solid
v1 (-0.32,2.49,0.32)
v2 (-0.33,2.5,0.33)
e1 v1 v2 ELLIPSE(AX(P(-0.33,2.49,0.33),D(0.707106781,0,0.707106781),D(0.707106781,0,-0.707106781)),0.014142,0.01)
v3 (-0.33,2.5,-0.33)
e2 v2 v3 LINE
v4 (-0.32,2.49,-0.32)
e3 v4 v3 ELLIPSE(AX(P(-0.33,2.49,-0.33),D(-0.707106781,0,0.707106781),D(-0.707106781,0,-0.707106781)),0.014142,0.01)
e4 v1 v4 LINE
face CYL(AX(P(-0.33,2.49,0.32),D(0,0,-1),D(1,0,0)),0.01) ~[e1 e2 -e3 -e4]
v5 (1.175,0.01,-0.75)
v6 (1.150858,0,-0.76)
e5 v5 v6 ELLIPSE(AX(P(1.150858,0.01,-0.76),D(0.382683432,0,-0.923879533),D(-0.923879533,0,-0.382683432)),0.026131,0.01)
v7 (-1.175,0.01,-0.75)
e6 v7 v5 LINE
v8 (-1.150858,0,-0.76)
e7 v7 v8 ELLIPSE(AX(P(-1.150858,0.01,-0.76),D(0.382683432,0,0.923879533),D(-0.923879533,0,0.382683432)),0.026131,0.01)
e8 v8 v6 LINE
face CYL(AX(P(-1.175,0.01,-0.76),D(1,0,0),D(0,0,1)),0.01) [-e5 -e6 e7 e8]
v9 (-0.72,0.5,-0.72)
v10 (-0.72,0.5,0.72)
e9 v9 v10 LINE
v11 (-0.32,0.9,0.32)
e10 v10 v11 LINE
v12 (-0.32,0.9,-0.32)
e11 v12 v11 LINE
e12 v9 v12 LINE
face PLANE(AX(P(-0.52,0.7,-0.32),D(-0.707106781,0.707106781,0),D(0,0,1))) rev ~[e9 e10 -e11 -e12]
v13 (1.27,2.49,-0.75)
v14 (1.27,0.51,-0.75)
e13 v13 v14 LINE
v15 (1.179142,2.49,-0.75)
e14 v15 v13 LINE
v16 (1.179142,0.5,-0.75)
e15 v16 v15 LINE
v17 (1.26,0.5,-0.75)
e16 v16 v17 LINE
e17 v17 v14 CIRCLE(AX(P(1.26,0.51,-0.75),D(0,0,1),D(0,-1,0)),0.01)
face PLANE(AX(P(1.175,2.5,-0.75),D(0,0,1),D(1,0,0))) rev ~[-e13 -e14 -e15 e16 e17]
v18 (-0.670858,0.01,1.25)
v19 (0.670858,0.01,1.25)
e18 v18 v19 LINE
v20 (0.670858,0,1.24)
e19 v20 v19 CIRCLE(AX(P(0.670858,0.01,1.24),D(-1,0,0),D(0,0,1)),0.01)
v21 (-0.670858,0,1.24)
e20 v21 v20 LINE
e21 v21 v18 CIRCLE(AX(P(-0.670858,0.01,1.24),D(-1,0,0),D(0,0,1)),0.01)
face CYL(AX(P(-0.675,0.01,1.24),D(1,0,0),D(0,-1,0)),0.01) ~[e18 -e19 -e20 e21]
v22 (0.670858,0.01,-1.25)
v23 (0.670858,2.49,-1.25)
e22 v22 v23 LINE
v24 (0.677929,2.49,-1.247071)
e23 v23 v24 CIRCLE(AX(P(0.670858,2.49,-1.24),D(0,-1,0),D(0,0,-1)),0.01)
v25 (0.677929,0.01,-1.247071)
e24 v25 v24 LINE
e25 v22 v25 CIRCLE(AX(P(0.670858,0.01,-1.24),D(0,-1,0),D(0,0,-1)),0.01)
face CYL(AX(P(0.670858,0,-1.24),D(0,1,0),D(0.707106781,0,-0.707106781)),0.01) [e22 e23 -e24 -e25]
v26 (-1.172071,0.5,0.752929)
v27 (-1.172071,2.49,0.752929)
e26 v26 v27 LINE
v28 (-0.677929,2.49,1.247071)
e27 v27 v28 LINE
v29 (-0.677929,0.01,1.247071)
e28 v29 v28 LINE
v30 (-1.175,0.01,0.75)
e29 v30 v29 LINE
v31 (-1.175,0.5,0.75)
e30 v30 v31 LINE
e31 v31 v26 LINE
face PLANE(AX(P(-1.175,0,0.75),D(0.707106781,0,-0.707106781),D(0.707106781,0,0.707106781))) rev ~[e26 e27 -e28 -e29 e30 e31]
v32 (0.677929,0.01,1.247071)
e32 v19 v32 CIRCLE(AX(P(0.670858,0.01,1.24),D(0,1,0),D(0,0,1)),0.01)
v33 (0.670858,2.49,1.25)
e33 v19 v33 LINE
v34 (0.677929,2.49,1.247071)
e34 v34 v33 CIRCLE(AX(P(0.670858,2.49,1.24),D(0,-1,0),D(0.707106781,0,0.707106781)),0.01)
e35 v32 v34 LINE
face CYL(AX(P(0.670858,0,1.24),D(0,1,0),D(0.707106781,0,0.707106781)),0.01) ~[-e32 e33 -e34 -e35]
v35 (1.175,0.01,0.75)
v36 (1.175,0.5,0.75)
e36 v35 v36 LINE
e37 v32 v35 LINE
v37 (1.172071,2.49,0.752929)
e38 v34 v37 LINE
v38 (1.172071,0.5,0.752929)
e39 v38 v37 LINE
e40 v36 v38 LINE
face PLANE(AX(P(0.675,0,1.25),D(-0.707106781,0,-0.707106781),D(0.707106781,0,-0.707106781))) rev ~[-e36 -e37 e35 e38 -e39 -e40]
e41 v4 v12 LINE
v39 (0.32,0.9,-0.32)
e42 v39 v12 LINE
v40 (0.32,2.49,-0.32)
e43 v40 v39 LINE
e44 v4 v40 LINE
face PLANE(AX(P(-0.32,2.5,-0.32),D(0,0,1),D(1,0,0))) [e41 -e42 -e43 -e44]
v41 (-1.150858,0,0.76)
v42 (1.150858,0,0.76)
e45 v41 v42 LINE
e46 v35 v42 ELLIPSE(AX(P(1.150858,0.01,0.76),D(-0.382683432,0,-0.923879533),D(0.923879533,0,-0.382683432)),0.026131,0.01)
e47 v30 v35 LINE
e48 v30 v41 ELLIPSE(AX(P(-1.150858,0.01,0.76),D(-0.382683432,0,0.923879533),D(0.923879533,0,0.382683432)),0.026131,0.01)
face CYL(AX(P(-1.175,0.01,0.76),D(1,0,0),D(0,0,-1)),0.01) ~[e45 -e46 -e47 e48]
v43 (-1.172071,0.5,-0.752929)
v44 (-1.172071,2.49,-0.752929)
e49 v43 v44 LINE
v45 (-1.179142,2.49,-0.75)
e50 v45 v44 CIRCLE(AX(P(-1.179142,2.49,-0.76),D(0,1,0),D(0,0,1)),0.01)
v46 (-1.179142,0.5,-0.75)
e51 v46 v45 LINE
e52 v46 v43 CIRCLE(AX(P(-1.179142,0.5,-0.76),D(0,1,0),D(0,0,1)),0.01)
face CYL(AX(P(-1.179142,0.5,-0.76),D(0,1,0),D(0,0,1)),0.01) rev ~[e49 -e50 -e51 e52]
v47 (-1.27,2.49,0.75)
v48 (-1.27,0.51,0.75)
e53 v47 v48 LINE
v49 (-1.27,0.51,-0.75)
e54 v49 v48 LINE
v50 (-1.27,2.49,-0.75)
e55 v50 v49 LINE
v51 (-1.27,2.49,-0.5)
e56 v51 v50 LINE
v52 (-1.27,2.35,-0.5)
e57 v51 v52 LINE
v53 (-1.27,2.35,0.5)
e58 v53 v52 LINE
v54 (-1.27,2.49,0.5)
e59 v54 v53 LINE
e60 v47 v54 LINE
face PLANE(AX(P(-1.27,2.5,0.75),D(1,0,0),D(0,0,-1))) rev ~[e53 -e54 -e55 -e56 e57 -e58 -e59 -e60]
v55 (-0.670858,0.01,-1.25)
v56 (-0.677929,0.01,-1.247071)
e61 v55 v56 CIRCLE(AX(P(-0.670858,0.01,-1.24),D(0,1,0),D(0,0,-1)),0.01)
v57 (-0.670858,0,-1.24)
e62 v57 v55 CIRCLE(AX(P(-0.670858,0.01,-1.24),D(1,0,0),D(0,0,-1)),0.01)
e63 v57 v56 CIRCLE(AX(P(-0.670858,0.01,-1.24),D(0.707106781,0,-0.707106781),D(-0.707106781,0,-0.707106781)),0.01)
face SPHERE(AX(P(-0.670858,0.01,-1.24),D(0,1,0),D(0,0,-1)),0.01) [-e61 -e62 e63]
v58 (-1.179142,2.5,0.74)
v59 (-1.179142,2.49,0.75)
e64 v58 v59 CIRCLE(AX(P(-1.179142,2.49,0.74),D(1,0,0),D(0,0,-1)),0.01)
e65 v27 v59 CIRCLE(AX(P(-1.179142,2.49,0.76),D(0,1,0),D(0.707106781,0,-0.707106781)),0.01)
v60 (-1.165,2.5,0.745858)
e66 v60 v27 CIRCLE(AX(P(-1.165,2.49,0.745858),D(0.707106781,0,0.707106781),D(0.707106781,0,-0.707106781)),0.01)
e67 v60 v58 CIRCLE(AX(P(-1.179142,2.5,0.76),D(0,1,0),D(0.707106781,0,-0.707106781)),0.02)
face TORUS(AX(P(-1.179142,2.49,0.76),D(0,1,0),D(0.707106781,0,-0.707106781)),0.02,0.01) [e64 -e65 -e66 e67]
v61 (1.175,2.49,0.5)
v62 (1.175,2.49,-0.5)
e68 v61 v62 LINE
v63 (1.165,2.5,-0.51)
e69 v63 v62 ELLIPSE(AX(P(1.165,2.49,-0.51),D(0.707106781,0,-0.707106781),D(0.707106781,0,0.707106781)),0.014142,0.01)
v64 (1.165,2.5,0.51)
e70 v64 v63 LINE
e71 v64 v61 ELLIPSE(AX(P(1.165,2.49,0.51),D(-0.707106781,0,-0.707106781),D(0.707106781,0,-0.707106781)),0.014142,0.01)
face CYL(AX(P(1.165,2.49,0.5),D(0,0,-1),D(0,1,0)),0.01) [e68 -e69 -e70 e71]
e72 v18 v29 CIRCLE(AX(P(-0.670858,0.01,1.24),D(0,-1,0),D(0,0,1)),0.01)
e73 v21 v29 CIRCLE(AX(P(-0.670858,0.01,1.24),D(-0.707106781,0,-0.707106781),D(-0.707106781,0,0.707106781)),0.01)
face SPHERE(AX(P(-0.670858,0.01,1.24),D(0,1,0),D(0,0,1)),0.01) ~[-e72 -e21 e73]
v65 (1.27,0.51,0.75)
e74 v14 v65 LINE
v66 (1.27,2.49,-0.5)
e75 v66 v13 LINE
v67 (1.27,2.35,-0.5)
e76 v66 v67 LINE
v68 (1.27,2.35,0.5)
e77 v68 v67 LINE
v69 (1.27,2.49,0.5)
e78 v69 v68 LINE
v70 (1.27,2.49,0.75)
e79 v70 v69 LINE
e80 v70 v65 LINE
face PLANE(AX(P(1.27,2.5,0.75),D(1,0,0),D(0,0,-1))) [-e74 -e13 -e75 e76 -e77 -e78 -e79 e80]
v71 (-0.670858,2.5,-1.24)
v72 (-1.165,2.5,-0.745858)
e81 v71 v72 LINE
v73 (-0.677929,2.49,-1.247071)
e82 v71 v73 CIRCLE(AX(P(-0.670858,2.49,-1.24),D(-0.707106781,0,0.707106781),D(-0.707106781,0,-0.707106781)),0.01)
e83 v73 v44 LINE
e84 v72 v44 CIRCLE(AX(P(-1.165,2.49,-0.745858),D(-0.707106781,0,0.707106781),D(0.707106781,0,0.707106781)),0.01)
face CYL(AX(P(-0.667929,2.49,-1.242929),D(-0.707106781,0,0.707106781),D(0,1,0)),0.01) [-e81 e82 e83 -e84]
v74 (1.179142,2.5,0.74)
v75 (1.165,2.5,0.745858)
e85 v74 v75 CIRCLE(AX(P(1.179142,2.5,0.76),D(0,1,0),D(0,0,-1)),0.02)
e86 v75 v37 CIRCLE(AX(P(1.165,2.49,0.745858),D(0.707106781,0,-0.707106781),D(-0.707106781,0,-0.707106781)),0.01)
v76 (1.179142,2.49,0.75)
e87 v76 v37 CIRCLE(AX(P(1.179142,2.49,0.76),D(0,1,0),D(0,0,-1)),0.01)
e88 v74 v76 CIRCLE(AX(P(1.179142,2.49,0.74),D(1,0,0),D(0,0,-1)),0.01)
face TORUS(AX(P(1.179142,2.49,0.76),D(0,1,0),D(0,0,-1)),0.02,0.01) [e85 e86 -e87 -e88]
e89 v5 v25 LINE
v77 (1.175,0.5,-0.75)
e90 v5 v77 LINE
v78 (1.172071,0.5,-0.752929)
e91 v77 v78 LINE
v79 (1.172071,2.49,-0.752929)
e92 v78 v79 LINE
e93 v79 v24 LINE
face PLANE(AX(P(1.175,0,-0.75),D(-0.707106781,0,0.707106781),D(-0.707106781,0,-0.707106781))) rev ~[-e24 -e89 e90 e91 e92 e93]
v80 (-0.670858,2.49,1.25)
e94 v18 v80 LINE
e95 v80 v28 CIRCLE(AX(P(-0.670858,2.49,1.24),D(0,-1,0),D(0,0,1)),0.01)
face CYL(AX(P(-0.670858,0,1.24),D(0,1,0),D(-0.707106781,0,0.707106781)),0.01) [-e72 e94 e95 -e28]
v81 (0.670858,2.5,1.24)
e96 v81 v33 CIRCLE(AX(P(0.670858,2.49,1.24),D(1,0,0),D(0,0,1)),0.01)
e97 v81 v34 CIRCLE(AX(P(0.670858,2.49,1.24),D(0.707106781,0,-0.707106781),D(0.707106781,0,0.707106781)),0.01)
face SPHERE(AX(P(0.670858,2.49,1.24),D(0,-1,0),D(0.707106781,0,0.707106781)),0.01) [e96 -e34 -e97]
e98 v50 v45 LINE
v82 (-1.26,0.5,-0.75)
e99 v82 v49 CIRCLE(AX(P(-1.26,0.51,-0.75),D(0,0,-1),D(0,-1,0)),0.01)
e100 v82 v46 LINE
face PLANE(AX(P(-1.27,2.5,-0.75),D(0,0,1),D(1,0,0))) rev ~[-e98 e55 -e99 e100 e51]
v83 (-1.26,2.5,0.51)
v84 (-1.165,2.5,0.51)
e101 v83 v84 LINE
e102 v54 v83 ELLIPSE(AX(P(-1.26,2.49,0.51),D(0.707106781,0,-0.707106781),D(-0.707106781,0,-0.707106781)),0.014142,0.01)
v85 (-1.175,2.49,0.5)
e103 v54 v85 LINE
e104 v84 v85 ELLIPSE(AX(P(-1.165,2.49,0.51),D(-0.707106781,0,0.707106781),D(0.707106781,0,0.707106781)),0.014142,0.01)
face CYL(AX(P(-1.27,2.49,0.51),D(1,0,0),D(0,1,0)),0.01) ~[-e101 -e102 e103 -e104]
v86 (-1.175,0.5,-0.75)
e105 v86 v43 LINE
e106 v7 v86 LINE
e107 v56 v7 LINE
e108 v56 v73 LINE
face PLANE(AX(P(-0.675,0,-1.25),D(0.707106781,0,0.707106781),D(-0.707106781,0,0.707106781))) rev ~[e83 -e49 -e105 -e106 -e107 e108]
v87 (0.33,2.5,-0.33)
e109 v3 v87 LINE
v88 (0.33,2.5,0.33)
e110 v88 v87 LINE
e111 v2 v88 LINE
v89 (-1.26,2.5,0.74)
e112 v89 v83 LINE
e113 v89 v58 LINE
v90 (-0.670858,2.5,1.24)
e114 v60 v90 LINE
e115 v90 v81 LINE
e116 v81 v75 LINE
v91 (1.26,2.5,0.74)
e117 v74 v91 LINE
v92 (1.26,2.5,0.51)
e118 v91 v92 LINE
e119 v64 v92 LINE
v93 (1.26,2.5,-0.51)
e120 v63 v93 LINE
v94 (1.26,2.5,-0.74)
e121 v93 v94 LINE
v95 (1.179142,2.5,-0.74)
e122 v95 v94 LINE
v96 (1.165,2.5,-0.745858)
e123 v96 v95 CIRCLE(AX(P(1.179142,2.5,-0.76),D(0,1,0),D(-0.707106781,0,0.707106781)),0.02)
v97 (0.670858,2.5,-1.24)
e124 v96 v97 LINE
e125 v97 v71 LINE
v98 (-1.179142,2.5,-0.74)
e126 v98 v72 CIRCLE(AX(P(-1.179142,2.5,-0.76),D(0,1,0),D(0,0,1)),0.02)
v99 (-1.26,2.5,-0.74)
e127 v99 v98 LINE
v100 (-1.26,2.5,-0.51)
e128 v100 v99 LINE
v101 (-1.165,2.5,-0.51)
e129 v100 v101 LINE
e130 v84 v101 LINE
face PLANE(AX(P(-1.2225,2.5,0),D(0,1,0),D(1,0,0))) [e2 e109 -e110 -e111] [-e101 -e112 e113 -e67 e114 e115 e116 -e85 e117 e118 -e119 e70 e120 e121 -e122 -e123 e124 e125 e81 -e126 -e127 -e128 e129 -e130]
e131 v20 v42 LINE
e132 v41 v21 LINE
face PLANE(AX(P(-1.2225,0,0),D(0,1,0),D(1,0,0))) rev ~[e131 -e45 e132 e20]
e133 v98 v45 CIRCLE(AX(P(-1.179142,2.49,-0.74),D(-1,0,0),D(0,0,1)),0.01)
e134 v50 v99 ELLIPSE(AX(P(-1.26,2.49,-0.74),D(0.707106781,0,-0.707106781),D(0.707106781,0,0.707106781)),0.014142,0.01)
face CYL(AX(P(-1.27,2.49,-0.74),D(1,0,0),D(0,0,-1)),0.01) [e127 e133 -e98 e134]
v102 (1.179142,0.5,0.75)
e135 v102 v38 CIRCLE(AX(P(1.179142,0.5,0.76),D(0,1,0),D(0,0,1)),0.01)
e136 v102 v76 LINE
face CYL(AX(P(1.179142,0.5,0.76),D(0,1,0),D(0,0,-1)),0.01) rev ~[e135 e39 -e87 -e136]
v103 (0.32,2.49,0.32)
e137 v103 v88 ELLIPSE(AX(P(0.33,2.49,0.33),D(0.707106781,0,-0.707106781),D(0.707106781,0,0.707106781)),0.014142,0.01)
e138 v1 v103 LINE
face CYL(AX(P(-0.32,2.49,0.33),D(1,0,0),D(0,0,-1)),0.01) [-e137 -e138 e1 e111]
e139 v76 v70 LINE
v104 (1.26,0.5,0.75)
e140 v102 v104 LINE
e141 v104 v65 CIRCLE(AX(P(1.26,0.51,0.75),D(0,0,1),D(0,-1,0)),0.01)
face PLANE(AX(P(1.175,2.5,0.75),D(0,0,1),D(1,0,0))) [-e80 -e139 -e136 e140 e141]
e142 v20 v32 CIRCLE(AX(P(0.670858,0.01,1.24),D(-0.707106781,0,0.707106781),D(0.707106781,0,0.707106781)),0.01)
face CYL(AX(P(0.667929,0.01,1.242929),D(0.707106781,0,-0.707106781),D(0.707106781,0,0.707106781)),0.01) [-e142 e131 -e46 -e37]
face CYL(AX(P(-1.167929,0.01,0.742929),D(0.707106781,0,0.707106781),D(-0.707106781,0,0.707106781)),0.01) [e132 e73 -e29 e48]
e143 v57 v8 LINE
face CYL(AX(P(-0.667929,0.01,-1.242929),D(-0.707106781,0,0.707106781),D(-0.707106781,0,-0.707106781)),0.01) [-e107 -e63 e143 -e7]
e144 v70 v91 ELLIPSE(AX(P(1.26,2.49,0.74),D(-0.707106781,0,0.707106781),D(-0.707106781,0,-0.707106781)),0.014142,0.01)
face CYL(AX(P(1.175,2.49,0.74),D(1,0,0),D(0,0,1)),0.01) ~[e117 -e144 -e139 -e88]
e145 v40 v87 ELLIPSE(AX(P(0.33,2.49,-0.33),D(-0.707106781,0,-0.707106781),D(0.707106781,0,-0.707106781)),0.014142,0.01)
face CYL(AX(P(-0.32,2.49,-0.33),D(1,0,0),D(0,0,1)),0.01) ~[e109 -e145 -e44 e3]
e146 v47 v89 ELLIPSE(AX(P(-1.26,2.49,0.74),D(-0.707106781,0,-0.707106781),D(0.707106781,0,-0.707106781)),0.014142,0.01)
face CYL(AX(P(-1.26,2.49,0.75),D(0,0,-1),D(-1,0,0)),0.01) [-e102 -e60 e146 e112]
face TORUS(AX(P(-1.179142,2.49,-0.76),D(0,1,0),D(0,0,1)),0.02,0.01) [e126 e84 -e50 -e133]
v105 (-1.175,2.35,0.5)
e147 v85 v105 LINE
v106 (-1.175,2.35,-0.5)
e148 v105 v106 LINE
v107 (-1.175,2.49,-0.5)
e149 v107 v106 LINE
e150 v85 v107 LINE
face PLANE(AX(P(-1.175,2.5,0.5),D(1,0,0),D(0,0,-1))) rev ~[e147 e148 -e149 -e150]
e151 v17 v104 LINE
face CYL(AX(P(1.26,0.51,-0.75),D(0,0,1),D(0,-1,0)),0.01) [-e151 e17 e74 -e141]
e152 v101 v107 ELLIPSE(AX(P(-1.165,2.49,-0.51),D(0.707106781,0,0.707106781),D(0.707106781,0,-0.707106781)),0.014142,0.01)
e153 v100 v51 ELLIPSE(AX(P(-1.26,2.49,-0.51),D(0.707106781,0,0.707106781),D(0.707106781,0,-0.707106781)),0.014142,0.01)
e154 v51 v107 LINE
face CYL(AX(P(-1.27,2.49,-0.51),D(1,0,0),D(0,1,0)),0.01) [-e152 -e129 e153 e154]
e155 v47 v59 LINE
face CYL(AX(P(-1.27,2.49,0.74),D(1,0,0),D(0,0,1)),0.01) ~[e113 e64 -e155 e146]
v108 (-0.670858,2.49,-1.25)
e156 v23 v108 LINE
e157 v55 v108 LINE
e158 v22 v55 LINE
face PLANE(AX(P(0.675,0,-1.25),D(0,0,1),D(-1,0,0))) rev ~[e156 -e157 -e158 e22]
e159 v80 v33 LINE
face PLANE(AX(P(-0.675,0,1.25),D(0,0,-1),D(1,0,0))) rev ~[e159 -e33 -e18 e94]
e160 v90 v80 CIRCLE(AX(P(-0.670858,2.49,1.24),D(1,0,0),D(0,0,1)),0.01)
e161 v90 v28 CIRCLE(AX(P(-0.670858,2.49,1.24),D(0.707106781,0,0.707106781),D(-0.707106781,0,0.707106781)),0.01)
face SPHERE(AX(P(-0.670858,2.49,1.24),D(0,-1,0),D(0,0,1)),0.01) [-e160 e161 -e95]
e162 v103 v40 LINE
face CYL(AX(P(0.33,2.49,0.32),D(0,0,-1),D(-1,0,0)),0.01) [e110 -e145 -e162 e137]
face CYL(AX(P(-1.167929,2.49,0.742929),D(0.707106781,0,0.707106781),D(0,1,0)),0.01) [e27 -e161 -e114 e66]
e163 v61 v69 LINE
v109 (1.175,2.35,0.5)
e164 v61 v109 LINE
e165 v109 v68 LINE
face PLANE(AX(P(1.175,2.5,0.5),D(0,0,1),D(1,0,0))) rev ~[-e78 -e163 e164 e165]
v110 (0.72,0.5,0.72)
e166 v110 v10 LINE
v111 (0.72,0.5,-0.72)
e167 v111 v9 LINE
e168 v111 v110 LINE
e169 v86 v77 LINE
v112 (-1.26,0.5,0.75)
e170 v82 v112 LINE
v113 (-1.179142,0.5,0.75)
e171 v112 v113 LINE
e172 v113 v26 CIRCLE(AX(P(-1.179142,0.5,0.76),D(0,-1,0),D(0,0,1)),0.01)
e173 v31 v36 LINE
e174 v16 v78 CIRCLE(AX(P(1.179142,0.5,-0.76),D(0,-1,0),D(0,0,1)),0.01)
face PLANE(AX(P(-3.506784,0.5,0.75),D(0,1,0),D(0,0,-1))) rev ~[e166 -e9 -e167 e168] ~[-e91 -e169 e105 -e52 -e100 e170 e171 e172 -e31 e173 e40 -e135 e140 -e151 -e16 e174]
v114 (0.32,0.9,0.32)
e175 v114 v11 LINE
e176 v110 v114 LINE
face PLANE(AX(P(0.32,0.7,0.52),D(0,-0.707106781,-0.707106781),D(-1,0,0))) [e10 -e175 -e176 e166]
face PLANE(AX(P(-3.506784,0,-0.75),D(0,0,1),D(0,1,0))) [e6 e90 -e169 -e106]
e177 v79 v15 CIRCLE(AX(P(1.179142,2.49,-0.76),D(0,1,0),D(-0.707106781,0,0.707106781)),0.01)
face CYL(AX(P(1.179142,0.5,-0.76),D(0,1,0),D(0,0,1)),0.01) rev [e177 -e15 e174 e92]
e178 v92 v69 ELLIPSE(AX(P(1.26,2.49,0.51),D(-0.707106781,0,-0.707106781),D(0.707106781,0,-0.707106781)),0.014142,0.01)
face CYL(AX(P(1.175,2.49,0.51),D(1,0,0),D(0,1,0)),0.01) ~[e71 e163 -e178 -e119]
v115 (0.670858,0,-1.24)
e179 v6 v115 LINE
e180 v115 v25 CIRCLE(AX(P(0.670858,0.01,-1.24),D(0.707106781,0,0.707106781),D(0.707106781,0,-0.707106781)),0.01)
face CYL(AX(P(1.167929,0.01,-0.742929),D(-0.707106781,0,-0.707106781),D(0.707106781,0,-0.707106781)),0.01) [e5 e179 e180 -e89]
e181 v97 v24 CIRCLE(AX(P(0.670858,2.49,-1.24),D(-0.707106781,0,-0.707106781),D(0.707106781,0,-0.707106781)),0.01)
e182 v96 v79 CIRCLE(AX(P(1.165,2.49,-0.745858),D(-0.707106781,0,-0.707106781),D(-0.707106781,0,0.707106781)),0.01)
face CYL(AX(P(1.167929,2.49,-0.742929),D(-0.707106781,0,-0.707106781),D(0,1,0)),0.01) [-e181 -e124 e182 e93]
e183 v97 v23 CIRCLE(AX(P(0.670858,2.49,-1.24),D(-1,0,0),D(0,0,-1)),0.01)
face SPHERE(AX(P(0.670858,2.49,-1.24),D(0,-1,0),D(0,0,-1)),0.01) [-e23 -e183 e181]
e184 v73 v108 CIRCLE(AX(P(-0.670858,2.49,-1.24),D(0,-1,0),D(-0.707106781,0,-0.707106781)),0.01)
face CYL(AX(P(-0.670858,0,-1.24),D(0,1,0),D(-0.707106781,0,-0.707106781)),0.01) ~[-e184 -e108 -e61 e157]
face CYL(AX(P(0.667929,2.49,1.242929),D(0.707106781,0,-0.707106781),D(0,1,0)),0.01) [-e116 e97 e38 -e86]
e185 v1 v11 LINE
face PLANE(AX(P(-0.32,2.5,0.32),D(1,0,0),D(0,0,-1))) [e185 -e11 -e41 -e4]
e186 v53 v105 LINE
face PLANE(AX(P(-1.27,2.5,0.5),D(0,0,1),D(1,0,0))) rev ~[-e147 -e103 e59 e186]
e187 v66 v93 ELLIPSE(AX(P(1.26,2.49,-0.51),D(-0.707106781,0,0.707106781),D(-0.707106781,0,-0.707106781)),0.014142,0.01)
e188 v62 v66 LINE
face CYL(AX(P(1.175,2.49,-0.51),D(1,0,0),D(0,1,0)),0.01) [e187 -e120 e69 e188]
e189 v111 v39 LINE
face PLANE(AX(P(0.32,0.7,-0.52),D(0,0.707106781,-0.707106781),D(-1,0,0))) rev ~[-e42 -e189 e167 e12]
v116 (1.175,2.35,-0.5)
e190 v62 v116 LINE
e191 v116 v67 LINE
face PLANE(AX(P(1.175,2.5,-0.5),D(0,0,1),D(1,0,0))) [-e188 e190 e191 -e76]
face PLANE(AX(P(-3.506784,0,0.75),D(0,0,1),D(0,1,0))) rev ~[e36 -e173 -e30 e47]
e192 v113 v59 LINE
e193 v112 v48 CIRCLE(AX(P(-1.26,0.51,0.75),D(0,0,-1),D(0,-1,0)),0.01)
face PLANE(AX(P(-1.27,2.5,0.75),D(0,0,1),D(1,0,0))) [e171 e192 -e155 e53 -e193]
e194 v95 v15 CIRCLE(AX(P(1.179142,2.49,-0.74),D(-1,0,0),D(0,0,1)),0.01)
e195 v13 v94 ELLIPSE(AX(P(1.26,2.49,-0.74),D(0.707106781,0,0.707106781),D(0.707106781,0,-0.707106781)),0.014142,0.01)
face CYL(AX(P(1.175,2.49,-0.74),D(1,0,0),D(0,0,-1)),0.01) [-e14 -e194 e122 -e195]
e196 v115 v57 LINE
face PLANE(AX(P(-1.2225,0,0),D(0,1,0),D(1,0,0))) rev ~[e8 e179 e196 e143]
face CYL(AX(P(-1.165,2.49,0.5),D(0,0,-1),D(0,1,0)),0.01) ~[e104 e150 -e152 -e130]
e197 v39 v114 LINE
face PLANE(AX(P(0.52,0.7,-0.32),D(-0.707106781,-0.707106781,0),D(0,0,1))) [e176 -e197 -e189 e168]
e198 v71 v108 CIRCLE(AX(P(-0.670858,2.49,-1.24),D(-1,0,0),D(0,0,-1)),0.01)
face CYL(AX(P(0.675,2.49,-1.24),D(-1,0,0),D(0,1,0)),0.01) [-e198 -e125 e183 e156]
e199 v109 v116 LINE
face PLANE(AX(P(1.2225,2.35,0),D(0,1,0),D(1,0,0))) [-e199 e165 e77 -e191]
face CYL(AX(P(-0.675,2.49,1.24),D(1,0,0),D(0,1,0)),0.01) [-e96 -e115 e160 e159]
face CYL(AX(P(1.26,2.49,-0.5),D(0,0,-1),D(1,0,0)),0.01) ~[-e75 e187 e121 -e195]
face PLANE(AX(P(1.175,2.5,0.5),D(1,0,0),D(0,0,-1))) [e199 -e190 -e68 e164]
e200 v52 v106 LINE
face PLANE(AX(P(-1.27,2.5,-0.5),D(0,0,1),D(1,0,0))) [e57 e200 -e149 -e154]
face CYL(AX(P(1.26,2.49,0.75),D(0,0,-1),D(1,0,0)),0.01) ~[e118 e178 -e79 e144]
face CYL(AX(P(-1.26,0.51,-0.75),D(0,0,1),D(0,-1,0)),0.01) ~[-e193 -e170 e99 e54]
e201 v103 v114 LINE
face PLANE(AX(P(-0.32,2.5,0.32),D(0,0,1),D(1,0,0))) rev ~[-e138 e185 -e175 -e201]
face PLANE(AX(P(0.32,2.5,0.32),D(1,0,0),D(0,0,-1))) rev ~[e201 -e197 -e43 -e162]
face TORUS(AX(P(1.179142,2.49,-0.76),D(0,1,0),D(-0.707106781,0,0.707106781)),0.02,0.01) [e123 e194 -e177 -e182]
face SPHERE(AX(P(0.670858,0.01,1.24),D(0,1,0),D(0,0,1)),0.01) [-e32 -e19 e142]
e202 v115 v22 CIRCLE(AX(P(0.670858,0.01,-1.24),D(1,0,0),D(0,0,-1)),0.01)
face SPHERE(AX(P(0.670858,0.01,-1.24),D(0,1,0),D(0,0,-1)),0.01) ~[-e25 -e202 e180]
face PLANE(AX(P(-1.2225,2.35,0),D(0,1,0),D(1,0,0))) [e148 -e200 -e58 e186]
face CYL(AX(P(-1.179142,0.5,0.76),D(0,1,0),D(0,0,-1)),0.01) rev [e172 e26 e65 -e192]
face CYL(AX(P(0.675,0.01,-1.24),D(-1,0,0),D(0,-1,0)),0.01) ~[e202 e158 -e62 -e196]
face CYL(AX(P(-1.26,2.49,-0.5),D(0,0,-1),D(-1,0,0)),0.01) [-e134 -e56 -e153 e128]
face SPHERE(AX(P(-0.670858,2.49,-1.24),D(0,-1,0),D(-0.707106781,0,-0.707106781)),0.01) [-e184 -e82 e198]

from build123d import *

# Parameters (mm, degrees)
BOSS_EXTRUDE1_DEPTH     = 2.5
SKETCH7_W               = 0.64
SKETCH7_H               = 0.64
CUT_EXTRUDE1_DEPTH      = 4.032016656
SKETCH8_W               = 0.095
SKETCH8_H               = 1.5
BOSS_EXTRUDE2_DEPTH     = 2.5
SKETCH9_W               = 0.095
SKETCH9_H               = 1
CUT_EXTRUDE2_DEPTH      = 0.15
CUT_EXTRUDE3_DEPTH      = 4.776784347
CUT_EXTRUDE3_DEPTH_BACK = 4.776784347
SKETCH12_W              = 1.5
SKETCH12_H              = 0.5
CHAMFER1_SIZE           = 0.4
FILLET1_R               = 0.01


with BuildPart() as part:
    # Sketch5 → Boss-Extrude1 (new body)
    with BuildSketch(Plane(origin=(0, 0, 0), x_dir=(1, 0, 0), z_dir=(0, 1, 0))):
        Polygon((-0.675, 1.25), (-1.175, 0.75), (-1.175, -0.75), (-0.675, -1.25), (0.675, -1.25), (1.175, -0.75), (1.175, 0.75), (0.675, 1.25), align=None)
    extrude(amount=BOSS_EXTRUDE1_DEPTH)

    # Sketch7 → Cut-Extrude1 (cut, through all)
    with BuildSketch(Plane(origin=(0, 2.5, 0), x_dir=(1, 0, 0), z_dir=(0, 1, 0))):
        Rectangle(SKETCH7_W, SKETCH7_H)
    extrude(amount=-CUT_EXTRUDE1_DEPTH, mode=Mode.SUBTRACT)

    # Sketch8 → Boss-Extrude2 (add)
    with BuildSketch(Plane(origin=(0, 2.5, 0), x_dir=(1, 0, 0), z_dir=(0, 1, 0))):
        with Locations((-1.2225, 0)):
            Rectangle(SKETCH8_W, SKETCH8_H)
        with Locations((1.2225, 0)):
            Rectangle(SKETCH8_W, SKETCH8_H)
    extrude(amount=-BOSS_EXTRUDE2_DEPTH)

    # Sketch9 → Cut-Extrude2 (cut)
    with BuildSketch(Plane(origin=(0, 2.5, 0), x_dir=(1, 0, 0), z_dir=(0, 1, 0))):
        with Locations((-1.2225, 0)):
            Rectangle(SKETCH9_W, SKETCH9_H)
        with Locations((1.2225, 0)):
            Rectangle(SKETCH9_W, SKETCH9_H)
    extrude(amount=-CUT_EXTRUDE2_DEPTH, mode=Mode.SUBTRACT)

    # Sketch12 → Cut-Extrude3 (cut, two sides: drawn at the far end of the back side and taken through both)
    with BuildSketch(Plane(origin=(1.27, 0, 0), x_dir=(0, 0, -1), z_dir=(1, 0, 0)).offset(-CUT_EXTRUDE3_DEPTH_BACK)):
        with Locations((0, 0.25)):
            Rectangle(SKETCH12_W, SKETCH12_H)
    extrude(amount=CUT_EXTRUDE3_DEPTH + CUT_EXTRUDE3_DEPTH_BACK, mode=Mode.SUBTRACT)

    # Chamfer1
    chamfer1_edges = [part.edges().sort_by_distance(p)[0] for p in [
        (0, 0.5, -0.32),
        (0.32, 0.5, 0),
        (0, 0.5, 0.32),
        (-0.32, 0.5, 0),
    ]]
    chamfer(chamfer1_edges, length=CHAMFER1_SIZE)

    # Fillet1
    fillet1_edges = [part.edges().sort_by_distance(p)[0] for p in [
        (-1.2225, 2.5, -0.75),
        (-0.925, 2.5, -1),
        (0, 2.5, -1.25),
        (0.925, 2.5, -1),
        (1.2225, 2.5, -0.75),
        (1.27, 2.5, -0.625),
        (1.2225, 2.5, -0.5),
        (1.175, 2.5, 0),
        (1.2225, 2.5, 0.5),
        (1.27, 2.5, 0.625),
        (1.2225, 2.5, 0.75),
        (0.925, 2.5, 1),
        (0, 2.5, 1.25),
        (-0.925, 2.5, 1),
        (-1.2225, 2.5, 0.75),
        (-1.27, 2.5, 0.625),
        (-1.2225, 2.5, 0.5),
        (-1.175, 2.5, 0),
        (-1.2225, 2.5, -0.5),
        (-1.27, 2.5, -0.625),
        (-0.32, 2.5, 0),
        (0, 2.5, 0.32),
        (0.32, 2.5, 0),
        (0, 2.5, -0.32),
        (0.925, 0, -1),
        (-0.925, 0, -1),
        (0, 0, -0.75),
        (-0.925, 0, 1),
        (0.925, 0, 1),
        (0, 0, 0.75),
        (0.675, 1.25, -1.25),
        (-0.675, 1.25, -1.25),
        (0, 0, -1.25),
        (-0.675, 1.25, 1.25),
        (0.675, 1.25, 1.25),
        (0, 0, 1.25),
        (-1.27, 0.5, 0),
        (1.27, 0.5, 0),
        (-1.175, 1.5, -0.75),
        (-1.175, 1.5, 0.75),
        (1.175, 1.5, -0.75),
        (1.175, 1.5, 0.75),
    ]]
    fillet(fillet1_edges, radius=FILLET1_R)


solid = part.part
